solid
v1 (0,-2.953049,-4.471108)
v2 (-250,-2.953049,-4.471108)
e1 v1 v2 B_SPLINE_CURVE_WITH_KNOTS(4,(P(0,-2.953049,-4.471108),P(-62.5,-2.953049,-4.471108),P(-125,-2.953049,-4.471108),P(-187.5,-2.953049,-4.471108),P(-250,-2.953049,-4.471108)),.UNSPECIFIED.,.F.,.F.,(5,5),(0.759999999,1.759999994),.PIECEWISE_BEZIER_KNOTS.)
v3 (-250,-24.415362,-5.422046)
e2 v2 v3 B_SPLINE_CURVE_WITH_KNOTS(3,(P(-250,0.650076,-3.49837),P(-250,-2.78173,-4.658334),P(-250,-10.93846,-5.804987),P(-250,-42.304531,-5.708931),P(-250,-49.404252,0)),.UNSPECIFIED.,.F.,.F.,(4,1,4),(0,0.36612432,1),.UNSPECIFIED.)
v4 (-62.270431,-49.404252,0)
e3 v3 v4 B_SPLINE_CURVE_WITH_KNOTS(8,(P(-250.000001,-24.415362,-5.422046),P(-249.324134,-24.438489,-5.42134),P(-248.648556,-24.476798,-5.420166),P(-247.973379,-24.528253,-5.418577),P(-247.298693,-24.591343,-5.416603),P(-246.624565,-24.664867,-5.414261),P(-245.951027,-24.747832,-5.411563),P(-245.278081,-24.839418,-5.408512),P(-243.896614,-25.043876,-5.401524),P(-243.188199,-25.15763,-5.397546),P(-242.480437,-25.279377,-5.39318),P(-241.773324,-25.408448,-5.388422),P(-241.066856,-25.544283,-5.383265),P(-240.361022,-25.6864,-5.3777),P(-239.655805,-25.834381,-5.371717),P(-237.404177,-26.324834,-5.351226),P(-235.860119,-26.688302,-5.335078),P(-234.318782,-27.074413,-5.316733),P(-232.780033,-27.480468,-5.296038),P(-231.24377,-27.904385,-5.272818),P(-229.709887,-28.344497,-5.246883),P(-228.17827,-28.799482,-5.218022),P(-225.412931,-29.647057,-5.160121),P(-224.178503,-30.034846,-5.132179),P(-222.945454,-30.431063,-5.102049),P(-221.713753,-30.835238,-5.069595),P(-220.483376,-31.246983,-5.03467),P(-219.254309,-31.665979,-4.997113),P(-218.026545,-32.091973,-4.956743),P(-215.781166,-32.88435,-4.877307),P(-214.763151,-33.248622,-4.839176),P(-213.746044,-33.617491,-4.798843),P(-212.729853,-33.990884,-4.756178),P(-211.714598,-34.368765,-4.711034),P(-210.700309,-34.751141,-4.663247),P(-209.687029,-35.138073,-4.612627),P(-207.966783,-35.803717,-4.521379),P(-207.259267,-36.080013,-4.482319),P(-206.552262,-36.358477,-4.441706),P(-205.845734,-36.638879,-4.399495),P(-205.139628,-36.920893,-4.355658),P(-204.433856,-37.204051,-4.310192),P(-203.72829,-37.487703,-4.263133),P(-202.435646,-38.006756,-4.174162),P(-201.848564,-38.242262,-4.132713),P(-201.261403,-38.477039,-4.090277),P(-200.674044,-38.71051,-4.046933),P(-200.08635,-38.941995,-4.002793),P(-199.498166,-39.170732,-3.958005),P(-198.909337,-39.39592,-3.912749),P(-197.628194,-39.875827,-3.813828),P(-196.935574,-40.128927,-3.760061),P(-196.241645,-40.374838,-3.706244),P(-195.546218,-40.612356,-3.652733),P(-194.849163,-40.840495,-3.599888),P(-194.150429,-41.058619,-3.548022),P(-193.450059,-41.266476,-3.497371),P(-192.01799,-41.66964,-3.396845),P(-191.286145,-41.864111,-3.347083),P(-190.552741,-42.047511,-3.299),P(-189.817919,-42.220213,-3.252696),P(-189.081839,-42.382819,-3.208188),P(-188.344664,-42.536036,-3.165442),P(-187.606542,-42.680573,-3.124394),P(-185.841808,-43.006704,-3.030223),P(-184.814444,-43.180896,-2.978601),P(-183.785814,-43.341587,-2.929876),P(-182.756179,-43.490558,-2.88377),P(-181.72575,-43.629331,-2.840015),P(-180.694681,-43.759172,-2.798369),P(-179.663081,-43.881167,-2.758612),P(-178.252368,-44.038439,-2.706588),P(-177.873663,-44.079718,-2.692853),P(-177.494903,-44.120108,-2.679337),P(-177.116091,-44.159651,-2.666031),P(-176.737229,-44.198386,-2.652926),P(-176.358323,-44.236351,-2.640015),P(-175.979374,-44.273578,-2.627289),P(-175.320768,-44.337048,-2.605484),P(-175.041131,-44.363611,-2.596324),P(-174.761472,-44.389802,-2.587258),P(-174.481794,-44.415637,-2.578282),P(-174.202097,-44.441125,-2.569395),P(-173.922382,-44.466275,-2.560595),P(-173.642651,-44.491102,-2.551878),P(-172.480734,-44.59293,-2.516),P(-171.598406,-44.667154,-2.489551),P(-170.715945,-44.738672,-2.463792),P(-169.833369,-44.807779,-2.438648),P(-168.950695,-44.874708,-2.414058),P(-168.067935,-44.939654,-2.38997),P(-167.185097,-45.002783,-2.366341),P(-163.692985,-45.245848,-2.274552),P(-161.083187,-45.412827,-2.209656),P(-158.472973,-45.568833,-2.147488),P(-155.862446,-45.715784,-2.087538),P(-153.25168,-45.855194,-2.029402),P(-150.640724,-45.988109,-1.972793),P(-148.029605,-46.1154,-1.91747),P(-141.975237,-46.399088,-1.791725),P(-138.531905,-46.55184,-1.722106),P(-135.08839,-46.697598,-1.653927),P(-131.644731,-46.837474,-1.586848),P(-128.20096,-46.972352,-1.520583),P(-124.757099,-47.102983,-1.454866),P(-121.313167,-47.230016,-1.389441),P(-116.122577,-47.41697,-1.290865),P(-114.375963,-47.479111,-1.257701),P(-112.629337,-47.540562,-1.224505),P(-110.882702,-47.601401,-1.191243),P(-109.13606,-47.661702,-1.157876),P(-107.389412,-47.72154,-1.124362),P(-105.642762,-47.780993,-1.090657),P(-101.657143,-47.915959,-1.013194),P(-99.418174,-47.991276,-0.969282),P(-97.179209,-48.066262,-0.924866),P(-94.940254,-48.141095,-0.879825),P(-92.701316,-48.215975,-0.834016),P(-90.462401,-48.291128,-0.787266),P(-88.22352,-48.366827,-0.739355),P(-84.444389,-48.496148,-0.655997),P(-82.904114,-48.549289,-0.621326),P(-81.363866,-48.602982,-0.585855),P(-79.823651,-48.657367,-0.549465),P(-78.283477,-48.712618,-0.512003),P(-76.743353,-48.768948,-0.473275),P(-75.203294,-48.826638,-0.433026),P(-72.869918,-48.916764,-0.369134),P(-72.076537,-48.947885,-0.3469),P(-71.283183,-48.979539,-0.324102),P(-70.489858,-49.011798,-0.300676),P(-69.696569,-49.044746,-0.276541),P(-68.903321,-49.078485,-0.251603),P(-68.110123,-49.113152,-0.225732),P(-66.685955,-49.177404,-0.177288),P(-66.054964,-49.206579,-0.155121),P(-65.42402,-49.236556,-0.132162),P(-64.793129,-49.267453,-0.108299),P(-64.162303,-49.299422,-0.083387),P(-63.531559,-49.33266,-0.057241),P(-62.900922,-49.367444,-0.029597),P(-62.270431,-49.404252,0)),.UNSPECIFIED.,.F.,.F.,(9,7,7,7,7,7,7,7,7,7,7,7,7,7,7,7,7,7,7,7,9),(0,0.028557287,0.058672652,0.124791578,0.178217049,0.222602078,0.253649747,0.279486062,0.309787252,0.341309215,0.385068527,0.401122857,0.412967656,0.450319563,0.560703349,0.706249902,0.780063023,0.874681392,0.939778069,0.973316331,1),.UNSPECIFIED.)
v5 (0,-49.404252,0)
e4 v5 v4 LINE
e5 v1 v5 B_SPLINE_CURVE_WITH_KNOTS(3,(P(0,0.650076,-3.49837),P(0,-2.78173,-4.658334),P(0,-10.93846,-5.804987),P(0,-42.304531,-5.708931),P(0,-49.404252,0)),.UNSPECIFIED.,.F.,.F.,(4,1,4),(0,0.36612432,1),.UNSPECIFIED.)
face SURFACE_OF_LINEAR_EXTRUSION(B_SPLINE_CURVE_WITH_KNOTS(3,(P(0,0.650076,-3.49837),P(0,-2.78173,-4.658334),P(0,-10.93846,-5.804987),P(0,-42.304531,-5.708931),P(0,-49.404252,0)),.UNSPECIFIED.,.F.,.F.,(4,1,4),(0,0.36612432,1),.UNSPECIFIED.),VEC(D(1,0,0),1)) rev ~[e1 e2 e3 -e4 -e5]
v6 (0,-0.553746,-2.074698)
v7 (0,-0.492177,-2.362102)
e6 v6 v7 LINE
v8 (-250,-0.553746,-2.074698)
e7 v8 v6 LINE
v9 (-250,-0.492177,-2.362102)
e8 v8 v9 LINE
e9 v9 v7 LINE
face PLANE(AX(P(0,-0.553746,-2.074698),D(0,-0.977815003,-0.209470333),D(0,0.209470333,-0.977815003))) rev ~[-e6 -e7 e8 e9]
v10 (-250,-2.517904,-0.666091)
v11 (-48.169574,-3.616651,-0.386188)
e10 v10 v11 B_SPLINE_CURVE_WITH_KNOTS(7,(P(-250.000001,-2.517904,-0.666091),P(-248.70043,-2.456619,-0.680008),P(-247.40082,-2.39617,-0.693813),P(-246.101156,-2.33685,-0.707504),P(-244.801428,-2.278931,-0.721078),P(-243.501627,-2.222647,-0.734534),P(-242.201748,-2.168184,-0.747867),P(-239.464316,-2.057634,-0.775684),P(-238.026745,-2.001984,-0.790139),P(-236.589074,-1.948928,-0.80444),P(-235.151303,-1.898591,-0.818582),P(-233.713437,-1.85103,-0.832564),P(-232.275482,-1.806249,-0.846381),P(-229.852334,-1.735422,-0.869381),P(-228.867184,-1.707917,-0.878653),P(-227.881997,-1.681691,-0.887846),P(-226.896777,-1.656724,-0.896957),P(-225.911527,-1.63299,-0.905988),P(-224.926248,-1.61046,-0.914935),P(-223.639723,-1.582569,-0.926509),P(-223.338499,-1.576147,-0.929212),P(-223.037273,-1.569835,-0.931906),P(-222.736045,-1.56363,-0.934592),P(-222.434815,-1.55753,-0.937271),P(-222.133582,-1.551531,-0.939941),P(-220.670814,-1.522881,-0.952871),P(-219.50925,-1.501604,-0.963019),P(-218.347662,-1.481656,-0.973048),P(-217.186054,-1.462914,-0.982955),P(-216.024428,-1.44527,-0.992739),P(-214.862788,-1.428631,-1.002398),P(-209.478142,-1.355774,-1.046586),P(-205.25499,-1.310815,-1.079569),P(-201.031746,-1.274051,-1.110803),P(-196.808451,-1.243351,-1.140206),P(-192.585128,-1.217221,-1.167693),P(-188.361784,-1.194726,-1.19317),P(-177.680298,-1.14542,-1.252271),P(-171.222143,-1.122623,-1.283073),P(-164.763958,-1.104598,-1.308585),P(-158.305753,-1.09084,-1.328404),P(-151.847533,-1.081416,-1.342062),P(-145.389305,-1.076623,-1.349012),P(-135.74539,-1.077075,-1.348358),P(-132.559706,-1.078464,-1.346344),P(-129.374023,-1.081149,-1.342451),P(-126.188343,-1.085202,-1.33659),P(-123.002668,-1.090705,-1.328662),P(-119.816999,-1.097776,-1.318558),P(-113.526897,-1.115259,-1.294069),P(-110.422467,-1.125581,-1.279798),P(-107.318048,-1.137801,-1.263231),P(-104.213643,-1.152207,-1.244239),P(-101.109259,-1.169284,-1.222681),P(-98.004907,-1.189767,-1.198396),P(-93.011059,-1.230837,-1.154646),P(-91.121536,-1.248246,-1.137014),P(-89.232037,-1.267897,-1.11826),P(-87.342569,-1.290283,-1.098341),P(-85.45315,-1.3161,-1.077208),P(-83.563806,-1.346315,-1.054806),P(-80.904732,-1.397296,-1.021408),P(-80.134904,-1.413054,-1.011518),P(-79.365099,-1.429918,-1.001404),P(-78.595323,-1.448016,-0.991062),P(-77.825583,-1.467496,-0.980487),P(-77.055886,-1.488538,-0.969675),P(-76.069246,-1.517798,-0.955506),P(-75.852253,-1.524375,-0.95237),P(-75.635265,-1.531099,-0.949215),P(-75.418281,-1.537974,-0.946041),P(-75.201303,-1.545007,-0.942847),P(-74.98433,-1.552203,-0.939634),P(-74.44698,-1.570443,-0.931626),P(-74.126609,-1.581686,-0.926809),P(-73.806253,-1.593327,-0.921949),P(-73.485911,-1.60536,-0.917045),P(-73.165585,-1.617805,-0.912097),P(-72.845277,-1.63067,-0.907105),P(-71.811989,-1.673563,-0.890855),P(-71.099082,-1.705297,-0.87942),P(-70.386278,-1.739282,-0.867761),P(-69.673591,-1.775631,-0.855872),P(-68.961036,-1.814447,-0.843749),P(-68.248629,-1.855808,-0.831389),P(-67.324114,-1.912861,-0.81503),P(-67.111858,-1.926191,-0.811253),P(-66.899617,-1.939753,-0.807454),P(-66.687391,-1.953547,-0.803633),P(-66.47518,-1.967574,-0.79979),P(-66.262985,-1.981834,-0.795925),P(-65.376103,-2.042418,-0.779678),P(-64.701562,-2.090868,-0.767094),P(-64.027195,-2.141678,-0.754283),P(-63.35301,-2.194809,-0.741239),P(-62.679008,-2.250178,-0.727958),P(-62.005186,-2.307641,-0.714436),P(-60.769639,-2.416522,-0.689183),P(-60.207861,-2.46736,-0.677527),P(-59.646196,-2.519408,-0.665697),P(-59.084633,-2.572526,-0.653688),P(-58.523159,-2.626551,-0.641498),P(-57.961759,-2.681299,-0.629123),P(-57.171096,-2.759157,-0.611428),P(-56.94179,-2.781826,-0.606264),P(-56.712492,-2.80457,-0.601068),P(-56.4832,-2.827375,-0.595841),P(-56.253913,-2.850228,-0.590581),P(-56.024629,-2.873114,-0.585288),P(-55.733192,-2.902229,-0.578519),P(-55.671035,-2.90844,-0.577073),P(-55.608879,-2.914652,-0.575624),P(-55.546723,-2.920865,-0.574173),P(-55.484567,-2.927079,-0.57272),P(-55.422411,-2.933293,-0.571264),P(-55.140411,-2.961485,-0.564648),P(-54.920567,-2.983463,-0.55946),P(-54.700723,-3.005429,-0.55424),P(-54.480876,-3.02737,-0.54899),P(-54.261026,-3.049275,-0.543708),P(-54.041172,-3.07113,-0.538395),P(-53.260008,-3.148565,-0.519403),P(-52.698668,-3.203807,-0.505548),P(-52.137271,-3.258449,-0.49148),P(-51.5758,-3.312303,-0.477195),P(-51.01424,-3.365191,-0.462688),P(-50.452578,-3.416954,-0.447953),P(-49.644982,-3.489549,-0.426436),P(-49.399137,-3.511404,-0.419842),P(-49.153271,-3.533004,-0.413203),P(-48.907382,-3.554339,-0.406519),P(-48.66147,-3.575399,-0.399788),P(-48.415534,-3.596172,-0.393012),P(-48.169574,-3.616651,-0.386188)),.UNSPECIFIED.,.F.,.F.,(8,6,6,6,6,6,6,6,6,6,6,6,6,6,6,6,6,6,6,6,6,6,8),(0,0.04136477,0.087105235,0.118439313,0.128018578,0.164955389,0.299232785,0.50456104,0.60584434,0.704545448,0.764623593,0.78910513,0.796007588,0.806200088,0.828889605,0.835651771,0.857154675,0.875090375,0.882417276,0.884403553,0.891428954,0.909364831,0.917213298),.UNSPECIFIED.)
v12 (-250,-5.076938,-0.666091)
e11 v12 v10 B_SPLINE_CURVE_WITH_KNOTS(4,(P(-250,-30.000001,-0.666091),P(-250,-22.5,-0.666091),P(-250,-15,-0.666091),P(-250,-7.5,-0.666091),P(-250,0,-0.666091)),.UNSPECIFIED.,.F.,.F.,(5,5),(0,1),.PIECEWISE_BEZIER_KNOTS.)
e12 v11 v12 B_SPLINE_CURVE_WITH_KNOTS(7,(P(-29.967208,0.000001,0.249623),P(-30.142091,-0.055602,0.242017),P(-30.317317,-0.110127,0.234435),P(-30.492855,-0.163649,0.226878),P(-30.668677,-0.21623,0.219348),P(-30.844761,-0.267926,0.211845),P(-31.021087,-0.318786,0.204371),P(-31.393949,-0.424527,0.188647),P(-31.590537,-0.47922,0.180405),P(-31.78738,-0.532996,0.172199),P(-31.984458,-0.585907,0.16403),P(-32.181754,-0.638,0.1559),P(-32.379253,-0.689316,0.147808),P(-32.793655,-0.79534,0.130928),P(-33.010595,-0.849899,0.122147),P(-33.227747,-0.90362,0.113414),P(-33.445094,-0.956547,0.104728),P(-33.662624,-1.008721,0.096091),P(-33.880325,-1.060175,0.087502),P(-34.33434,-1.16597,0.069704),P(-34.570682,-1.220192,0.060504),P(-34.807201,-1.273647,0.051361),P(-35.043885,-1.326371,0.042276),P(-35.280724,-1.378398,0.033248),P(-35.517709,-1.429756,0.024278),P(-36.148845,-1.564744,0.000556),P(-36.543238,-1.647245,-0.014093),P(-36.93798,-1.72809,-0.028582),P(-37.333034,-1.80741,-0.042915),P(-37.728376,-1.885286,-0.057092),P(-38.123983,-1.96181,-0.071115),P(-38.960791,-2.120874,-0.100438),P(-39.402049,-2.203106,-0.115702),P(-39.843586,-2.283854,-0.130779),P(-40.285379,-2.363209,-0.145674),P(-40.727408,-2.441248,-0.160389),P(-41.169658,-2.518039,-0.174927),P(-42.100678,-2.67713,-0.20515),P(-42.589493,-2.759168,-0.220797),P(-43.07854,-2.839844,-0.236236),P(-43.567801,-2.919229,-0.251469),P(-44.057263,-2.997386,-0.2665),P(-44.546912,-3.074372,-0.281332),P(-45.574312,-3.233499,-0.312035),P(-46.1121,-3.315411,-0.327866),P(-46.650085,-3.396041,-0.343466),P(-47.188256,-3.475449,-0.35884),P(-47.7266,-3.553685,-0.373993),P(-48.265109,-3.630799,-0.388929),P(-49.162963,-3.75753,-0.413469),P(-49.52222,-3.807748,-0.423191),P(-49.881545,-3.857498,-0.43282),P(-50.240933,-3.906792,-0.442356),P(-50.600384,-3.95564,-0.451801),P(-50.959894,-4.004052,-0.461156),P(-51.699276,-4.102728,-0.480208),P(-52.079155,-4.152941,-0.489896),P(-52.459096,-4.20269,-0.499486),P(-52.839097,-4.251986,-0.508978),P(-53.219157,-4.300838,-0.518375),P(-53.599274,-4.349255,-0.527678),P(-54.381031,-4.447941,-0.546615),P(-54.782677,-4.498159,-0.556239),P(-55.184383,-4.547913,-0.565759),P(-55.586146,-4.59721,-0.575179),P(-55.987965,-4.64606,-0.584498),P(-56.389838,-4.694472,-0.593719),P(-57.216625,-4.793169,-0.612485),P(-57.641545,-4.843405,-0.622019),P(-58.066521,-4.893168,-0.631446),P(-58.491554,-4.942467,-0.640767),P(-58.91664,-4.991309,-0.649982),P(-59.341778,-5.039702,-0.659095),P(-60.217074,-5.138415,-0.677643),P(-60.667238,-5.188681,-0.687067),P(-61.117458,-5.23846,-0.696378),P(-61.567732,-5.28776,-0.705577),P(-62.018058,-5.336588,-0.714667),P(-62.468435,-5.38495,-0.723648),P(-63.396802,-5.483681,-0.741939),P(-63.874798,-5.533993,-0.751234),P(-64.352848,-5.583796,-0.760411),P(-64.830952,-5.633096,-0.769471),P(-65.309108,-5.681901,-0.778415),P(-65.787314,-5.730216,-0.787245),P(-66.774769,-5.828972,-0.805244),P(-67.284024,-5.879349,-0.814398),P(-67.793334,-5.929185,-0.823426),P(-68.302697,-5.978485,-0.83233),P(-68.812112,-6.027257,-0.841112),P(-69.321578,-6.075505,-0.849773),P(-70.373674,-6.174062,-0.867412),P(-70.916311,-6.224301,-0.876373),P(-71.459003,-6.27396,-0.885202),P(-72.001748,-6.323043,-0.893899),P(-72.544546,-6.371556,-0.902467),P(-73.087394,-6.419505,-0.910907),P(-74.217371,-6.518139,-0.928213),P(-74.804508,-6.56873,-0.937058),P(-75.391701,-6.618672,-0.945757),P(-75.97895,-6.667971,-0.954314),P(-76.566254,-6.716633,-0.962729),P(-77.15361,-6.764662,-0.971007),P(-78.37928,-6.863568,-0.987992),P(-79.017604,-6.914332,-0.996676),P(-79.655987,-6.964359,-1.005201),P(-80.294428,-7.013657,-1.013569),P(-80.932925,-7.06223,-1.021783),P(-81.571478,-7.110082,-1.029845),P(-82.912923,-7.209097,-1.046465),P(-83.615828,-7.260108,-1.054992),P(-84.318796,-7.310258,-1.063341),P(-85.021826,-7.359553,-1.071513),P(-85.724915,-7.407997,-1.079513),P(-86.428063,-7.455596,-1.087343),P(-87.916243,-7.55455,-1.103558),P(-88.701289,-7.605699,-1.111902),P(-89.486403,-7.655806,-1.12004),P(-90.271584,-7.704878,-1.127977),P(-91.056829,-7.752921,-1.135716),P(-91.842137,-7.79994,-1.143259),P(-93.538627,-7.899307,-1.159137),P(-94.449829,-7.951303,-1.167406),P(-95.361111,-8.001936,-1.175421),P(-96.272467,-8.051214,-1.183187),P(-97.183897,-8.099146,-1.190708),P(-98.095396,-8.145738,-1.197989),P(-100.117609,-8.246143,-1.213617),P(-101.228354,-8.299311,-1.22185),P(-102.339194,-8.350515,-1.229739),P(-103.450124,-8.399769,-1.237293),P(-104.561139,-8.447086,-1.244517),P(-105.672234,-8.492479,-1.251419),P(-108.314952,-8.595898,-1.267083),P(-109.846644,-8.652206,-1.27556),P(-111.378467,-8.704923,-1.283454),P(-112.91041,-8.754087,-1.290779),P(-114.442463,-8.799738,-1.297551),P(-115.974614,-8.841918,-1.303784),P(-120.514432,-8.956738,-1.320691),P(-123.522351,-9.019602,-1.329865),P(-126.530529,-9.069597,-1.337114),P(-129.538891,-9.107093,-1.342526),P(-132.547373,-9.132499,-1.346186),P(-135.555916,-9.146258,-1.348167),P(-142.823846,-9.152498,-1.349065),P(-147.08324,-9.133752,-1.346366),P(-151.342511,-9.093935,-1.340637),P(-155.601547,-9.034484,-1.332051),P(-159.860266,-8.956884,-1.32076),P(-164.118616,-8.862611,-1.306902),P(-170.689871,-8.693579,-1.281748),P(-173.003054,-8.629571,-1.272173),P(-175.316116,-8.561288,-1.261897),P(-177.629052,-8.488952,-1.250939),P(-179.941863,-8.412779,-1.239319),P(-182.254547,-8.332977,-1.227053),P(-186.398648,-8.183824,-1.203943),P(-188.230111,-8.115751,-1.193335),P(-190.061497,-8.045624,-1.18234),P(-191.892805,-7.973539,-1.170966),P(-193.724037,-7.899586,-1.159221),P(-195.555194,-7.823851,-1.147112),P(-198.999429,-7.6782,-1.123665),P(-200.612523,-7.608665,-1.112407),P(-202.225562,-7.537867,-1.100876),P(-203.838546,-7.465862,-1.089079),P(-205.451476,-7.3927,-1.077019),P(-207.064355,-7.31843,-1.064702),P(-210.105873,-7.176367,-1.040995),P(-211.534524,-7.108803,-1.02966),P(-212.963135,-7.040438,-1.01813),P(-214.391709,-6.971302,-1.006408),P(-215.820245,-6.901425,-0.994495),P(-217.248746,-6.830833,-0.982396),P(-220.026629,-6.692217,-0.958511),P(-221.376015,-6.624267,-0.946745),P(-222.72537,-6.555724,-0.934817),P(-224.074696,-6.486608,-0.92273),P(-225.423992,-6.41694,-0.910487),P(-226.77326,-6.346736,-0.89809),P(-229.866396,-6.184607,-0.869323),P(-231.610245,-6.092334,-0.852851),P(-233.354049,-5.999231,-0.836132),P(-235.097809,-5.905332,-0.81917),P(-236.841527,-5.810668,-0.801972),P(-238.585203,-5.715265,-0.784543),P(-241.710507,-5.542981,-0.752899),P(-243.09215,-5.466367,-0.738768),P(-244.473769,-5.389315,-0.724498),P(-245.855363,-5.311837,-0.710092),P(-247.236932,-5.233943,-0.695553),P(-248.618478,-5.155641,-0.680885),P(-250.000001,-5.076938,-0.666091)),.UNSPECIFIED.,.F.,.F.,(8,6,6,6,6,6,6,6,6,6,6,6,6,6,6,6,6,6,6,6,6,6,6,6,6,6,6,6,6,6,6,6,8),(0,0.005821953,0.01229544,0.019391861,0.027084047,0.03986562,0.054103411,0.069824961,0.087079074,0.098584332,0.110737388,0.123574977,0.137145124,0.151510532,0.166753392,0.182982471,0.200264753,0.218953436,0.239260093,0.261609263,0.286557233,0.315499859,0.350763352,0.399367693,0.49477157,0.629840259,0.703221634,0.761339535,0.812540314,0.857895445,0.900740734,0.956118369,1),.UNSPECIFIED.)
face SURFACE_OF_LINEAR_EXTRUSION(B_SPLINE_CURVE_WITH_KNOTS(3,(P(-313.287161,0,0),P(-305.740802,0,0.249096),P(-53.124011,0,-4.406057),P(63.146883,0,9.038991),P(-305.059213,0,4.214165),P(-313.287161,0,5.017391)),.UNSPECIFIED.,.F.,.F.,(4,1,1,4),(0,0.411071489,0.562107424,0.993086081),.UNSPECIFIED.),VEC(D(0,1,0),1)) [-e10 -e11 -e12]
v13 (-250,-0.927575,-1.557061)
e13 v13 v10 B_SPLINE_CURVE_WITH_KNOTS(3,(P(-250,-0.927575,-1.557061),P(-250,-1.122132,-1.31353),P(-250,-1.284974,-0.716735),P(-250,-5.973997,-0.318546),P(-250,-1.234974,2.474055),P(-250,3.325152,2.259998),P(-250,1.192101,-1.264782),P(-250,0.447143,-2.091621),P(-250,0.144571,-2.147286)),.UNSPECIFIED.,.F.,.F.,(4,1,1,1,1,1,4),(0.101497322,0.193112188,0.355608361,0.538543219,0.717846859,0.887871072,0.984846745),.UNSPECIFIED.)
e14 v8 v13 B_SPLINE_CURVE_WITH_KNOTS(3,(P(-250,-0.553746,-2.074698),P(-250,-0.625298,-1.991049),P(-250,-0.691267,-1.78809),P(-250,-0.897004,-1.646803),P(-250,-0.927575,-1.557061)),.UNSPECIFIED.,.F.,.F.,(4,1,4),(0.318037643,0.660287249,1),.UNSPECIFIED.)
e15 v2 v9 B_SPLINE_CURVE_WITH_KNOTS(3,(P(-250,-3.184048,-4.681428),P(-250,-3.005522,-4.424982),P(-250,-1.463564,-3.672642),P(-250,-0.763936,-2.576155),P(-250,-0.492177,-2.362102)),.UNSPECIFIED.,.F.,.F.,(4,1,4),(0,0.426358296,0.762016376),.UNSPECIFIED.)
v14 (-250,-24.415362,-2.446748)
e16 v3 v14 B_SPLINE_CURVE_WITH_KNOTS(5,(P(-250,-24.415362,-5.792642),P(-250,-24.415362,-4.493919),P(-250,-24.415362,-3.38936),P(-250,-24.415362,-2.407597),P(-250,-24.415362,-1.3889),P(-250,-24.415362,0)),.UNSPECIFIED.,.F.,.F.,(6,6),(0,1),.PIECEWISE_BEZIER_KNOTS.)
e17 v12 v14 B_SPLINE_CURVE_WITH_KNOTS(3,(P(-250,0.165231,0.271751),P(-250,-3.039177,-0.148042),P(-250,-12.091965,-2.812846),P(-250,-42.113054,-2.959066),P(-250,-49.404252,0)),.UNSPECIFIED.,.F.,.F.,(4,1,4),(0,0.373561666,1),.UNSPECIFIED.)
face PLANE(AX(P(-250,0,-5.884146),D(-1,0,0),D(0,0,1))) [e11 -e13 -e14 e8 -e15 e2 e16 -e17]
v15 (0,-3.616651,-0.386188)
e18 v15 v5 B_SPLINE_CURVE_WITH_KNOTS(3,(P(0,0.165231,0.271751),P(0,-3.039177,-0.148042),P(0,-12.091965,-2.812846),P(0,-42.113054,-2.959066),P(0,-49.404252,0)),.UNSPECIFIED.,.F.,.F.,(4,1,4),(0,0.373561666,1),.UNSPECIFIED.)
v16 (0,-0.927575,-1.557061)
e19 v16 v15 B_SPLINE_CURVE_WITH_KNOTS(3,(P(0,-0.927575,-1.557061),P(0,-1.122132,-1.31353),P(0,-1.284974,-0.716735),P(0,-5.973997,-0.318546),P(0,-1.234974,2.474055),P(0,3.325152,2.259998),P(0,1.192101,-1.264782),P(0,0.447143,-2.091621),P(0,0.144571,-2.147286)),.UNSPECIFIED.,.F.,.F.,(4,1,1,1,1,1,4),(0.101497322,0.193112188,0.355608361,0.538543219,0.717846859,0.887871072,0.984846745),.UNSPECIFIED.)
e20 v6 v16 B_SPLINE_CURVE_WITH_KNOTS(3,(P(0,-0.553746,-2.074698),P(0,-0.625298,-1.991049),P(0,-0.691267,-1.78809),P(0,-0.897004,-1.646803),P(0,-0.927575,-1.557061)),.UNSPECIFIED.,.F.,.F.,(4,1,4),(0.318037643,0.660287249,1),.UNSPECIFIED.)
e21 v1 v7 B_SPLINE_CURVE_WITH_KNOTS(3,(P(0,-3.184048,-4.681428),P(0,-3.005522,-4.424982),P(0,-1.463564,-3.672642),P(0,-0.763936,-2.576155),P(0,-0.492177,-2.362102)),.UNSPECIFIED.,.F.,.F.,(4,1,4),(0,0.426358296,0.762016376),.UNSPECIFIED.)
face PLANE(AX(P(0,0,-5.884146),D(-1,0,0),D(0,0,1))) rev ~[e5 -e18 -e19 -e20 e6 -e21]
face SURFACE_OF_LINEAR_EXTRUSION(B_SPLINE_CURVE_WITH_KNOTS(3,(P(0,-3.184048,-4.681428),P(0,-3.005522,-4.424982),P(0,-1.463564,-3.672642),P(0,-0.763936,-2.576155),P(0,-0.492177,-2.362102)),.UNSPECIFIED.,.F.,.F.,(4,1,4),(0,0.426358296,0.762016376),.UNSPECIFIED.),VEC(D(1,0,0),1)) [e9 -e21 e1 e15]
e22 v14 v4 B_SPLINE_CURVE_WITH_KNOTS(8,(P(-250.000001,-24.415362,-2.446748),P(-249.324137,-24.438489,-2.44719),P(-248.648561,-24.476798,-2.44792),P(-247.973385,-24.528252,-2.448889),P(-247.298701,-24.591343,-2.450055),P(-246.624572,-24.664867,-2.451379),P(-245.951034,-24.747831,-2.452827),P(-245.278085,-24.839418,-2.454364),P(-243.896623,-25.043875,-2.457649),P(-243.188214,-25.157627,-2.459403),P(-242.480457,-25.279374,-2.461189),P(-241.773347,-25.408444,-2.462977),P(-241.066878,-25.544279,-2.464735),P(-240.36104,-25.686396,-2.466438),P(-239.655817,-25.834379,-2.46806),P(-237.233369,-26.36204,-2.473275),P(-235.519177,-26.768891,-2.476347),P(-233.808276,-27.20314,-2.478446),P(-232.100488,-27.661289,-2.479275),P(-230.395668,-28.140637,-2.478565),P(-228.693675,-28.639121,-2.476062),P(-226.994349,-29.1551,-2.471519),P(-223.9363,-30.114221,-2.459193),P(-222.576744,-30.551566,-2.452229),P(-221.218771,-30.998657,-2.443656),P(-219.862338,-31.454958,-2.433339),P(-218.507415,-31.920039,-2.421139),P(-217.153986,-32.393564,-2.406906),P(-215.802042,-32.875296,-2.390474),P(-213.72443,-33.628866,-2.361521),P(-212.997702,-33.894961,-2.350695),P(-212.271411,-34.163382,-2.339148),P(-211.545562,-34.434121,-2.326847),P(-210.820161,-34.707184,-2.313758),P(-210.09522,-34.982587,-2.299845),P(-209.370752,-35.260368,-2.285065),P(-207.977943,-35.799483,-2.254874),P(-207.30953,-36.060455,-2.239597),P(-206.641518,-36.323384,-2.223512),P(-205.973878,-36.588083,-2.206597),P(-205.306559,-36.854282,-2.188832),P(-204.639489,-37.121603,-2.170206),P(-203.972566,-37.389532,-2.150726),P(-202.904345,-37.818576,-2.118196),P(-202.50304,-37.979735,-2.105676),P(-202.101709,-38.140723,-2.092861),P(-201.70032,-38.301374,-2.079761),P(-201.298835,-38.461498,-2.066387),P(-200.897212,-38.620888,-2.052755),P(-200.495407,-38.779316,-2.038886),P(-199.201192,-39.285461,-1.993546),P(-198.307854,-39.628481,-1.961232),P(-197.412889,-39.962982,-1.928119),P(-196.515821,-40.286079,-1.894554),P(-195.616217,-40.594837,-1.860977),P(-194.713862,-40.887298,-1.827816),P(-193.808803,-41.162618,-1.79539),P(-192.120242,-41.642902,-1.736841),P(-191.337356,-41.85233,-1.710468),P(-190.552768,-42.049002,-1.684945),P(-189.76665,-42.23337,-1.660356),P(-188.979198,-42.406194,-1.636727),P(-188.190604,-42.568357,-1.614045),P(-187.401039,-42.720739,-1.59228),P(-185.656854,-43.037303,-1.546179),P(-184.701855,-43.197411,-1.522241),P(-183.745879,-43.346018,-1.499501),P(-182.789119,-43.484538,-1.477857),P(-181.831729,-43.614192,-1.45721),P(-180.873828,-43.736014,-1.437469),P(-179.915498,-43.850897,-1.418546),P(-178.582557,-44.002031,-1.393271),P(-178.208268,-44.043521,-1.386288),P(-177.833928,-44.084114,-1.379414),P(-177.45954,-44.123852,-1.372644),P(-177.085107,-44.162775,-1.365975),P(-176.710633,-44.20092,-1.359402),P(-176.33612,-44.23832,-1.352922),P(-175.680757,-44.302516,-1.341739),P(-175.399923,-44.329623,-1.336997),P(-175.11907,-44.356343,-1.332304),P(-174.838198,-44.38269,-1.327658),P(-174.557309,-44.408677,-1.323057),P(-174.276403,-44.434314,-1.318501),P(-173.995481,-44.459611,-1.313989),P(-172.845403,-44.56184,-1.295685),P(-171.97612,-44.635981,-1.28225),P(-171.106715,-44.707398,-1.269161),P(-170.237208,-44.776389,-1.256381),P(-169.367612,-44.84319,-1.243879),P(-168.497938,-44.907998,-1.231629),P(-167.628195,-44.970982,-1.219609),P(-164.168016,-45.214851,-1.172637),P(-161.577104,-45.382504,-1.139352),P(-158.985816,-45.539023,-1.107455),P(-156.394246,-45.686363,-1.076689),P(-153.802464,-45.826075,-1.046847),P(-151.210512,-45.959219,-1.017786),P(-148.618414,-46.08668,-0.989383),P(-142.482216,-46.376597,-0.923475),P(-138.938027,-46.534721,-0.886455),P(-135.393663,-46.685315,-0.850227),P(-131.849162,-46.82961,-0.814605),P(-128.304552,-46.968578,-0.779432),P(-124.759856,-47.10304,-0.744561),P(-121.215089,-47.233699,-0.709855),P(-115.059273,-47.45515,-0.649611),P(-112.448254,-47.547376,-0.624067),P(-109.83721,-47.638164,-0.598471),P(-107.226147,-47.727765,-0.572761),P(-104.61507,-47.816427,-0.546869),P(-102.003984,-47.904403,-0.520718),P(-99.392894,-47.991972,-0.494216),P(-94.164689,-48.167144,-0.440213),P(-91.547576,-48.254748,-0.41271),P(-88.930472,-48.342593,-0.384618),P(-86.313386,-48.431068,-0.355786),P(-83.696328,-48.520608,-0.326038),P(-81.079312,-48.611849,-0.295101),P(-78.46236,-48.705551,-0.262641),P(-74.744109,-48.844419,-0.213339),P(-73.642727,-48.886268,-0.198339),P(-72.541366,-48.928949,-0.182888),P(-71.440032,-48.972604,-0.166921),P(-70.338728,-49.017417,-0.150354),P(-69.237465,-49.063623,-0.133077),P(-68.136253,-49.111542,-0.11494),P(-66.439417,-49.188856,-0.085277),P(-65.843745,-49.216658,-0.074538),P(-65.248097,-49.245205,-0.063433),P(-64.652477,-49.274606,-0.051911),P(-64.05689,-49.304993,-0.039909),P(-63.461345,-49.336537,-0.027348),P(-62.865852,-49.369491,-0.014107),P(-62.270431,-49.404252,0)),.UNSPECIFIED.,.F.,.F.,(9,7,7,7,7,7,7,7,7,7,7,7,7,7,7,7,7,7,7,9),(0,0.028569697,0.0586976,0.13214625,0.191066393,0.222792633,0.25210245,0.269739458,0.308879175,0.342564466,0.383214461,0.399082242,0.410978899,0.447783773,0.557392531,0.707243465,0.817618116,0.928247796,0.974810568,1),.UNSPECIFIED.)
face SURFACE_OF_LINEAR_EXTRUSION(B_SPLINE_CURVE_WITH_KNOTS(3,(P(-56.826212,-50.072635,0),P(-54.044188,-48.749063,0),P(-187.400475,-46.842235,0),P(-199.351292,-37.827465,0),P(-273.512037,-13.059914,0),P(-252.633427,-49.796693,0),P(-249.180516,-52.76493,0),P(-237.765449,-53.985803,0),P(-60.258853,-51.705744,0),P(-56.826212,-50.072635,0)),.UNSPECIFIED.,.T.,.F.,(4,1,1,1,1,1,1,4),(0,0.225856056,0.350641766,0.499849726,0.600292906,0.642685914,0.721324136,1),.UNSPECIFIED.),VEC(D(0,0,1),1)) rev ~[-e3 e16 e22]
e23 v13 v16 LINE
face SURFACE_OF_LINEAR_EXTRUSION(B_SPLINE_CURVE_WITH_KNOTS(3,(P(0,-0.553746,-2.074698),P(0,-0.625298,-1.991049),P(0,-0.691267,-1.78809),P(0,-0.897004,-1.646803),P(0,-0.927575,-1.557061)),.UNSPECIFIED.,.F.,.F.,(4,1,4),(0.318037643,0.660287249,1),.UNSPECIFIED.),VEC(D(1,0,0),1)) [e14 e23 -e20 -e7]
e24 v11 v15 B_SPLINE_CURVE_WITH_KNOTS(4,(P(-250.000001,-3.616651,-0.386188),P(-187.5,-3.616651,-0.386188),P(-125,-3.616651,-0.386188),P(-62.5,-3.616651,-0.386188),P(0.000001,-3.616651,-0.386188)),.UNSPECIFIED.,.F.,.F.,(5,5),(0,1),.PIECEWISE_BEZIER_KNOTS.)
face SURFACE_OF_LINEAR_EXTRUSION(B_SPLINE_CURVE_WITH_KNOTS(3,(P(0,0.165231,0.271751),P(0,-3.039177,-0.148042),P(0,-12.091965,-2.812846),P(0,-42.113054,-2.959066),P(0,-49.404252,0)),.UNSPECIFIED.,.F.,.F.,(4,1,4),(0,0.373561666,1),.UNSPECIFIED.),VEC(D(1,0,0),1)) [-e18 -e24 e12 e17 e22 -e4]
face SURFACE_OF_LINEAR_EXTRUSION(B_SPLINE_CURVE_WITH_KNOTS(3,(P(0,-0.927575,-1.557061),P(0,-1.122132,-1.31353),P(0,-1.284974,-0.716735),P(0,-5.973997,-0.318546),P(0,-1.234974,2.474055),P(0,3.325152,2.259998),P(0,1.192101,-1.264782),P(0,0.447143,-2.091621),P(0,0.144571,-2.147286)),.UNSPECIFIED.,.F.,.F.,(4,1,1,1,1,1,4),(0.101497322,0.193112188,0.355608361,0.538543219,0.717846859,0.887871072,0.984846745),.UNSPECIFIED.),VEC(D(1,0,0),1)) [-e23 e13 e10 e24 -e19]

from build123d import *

# Parameters (mm, degrees)
F0_W      = 250
F0_H      = 10
F1_DEPTH  = 50
F3_DEPTH  = 30
F5_DEPTH  = 250
F7_DEPTH  = 250
F8_DEPTH  = 60
F10_DEPTH = 25
F11_DEPTH = 60


with BuildPart() as f1:
    # F0 (on Front) → F1 (new body)
    with BuildSketch(Plane.XZ):
        with Locations((-125, -0.8841458522)):
            Rectangle(F0_W, F0_H)
    extrude(amount=F1_DEPTH)

    # F2 (on Front) → F3 (cut)
    with BuildSketch(Plane.XZ):
        with BuildLine():
            Line((-313.2871612906, 5.0173905069), (-313.2871612906, 0))
            add(Edge.make_bspline(
                [(-313.2871612906, 0), (-305.7408024233, 0.2490956721), (-53.1240111215, -4.4060569761), (63.1468826879, 9.0389913046), (-305.0592132912, 4.2141648523), (-313.2871612906, 5.0173905069)],
                knots=[0, 0, 0, 0, 0.4110714895, 0.5621074239, 0.9930860809, 0.9930860809, 0.9930860809, 0.9930860809], degree=3))
        make_face()
        with BuildLine():
            add(Edge.make_bspline(
                [(-313.2871612906, 5.0173905069), (-313.4191570769, 5.0302761501), (-313.4831006394, 5.044287986), (-313.4769124275, 5.0594728428)],
                knots=[0.9930860809, 0.9930860809, 0.9930860809, 0.9930860809, 1, 1, 1, 1], degree=3))
            Line((-313.2871612906, 5.0173905069), (-313.2871612906, 8.698137477))
            Line((-313.2871612906, 8.698137477), (-313.4769124275, 5.0594728428))
        make_face()
    extrude(amount=F3_DEPTH, mode=Mode.SUBTRACT)

    # F4 (on Right) → F5 (intersect)
    with BuildSketch(Plane.YZ):
        with BuildLine():
            Line((0.5672006129, -1.3385175809), (0.1652306632, 0.2717507569))
            add(Edge.make_bspline(
                [(0.1652306632, 0.2717507569), (-3.0391772862, -0.1480424546), (-12.0919650314, -2.8128463431), (-42.1130539169, -2.9590662558), (-49.4042519617, 0)],
                knots=[0, 0, 0, 0, 0.3735616657, 1, 1, 1, 1], degree=3))
            add(Edge.make_bspline(
                [(0.6500760171, -3.4983696098), (-2.7817302159, -4.6583340632), (-10.9384602329, -5.8049870315), (-42.3045310889, -5.708930743), (-49.4042519617, 0)],
                knots=[0, 0, 0, 0, 0.3661243195, 1, 1, 1, 1], degree=3))
            Line((0.6500760171, -3.4983696098), (0.5672006129, -1.3385175809))
        make_face()
    extrude(amount=-F5_DEPTH, mode=Mode.INTERSECT)

    # F6 (on Right) → F7 (cut)
    with BuildSketch(Plane.YZ):
        with BuildLine():
            add(Edge.make_bspline(
                [(-0.3713592388, -2.284798827), (-0.2241532093, -2.2148044468), (-0.0823320886, -2.24440747), (0, -2.1551709748)],
                knots=[0.8126011445, 0.8126011445, 0.8126011445, 0.8126011445, 1, 1, 1, 1], degree=3))
            add(Edge.make_bspline(
                [(0, -2.1551709748), (-0.329754515, -2.1314787293), (-0.7120324277, -1.8268609189), (-0.9275754571, -1.5570607049)],
                knots=[0, 0, 0, 0, 0.1014973216, 0.1014973216, 0.1014973216, 0.1014973216], degree=3))
            add(Edge.make_bspline(
                [(-0.5537458841, -2.0746981376), (-0.6252984398, -1.9910490784), (-0.6912669675, -1.7880899452), (-0.8970043195, -1.6468032305), (-0.9275754571, -1.5570607049)],
                knots=[0.3180376428, 0.3180376428, 0.3180376428, 0.3180376428, 0.6602872495, 1, 1, 1, 1], degree=3))
            add(Edge.make_bspline(
                [(-0.3713592388, -2.284798827), (-0.3875660997, -2.2144380571), (-0.4872552126, -2.1524295626), (-0.5537458841, -2.0746981376)],
                knots=[0, 0, 0, 0, 0.3180376428, 0.3180376428, 0.3180376428, 0.3180376428], degree=3))
        make_face()
        with BuildLine():
            add(Edge.make_bspline(
                [(0, -2.1551709748), (0.0470843515, -2.1525380743), (0.0954787204, -2.1497884688), (0.1445713973, -2.1472855941)],
                knots=[0, 0, 0, 0, 0.0270402164, 0.0270402164, 0.0270402164, 0.0270402164], degree=3))
            add(Edge.make_bspline(
                [(0.1445713973, -2.1472855941), (0.0972920511, -2.1559836171), (0.0492313889, -2.1587081581), (0, -2.1551709748)],
                knots=[0.9848467454, 0.9848467454, 0.9848467454, 0.9848467454, 1, 1, 1, 1], degree=3))
        make_face()
        with BuildLine():
            add(Edge.make_bspline(
                [(0.1445713973, -2.1472855941), (0.0972920511, -2.1559836171), (0.0492313889, -2.1587081581), (0, -2.1551709748)],
                knots=[0.9848467454, 0.9848467454, 0.9848467454, 0.9848467454, 1, 1, 1, 1], degree=3))
            add(Edge.make_bspline(
                [(-0.3713592388, -2.284798827), (-0.2241532093, -2.2148044468), (-0.0823320886, -2.24440747), (0, -2.1551709748)],
                knots=[0.8126011445, 0.8126011445, 0.8126011445, 0.8126011445, 1, 1, 1, 1], degree=3))
            add(Edge.make_bspline(
                [(-0.4921774922, -2.3621015913), (-0.4512225519, -2.3298430813), (-0.4110947157, -2.3036924829), (-0.3713592388, -2.284798827)],
                knots=[0.7620163762, 0.7620163762, 0.7620163762, 0.7620163762, 0.8126011445, 0.8126011445, 0.8126011445, 0.8126011445], degree=3))
            add(Edge.make_bspline(
                [(-3.1840484364, -4.6814284005), (-3.0055224359, -4.4249821283), (-1.4635640249, -3.672642383), (-0.7639363061, -2.5761547519), (-0.4921774922, -2.3621015913)],
                knots=[0, 0, 0, 0, 0.4263582957, 0.7620163762, 0.7620163762, 0.7620163762, 0.7620163762], degree=3))
            add(Edge.make_bspline(
                [(0.1445713973, -2.1472855941), (0.4781031282, -2.1302812627), (1.1300747826, -2.1202709661), (1.4167482192, -2.8884793386), (-0.5860592872, -4.3606955567), (-2.8324278052, -4.9287898784), (-3.1840484364, -4.6814284005)],
                knots=[0.0270402164, 0.0270402164, 0.0270402164, 0.0270402164, 0.2107492894, 0.3545004907, 0.6749045556, 1, 1, 1, 1], degree=3))
        make_face()
        with BuildLine():
            add(Edge.make_bspline(
                [(0, -2.1551709748), (-0.329754515, -2.1314787293), (-0.7120324277, -1.8268609189), (-0.9275754571, -1.5570607049)],
                knots=[0, 0, 0, 0, 0.1014973216, 0.1014973216, 0.1014973216, 0.1014973216], degree=3))
            add(Edge.make_bspline(
                [(0, -2.1551709748), (0.0470843515, -2.1525380743), (0.0954787204, -2.1497884688), (0.1445713973, -2.1472855941)],
                knots=[0, 0, 0, 0, 0.0270402164, 0.0270402164, 0.0270402164, 0.0270402164], degree=3))
            add(Edge.make_bspline(
                [(-0.9275754571, -1.5570607049), (-1.122131781, -1.3135300375), (-1.2849738501, -0.7167346625), (-5.9739971148, -0.3185463772), (-1.2349744114, 2.4740546969), (3.3251523519, 2.2599980845), (1.1921011598, -1.2647816461), (0.4471431263, -2.091621206), (0.1445713973, -2.1472855941)],
                knots=[0.1014973216, 0.1014973216, 0.1014973216, 0.1014973216, 0.1931121877, 0.3556083607, 0.5385432189, 0.7178468592, 0.8878710721, 0.9848467454, 0.9848467454, 0.9848467454, 0.9848467454], degree=3))
        make_face()
        with BuildLine():
            add(Edge.make_bspline(
                [(-0.4921774922, -2.3621015913), (-0.4512225519, -2.3298430813), (-0.4110947157, -2.3036924829), (-0.3713592388, -2.284798827)],
                knots=[0.7620163762, 0.7620163762, 0.7620163762, 0.7620163762, 0.8126011445, 0.8126011445, 0.8126011445, 0.8126011445], degree=3))
            add(Edge.make_bspline(
                [(-0.3713592388, -2.284798827), (-0.3875660997, -2.2144380571), (-0.4872552126, -2.1524295626), (-0.5537458841, -2.0746981376)],
                knots=[0, 0, 0, 0, 0.3180376428, 0.3180376428, 0.3180376428, 0.3180376428], degree=3))
            Line((-0.5537458841, -2.0746981376), (-0.4921774922, -2.3621015913))
        make_face()
    extrude(amount=-F7_DEPTH, mode=Mode.SUBTRACT)

    # F6 (on Right) → F8 (cut)
    with BuildSketch(Plane.YZ):
        with BuildLine():
            add(Edge.make_bspline(
                [(-0.3713592388, -2.284798827), (-0.2241532093, -2.2148044468), (-0.0823320886, -2.24440747), (0, -2.1551709748)],
                knots=[0.8126011445, 0.8126011445, 0.8126011445, 0.8126011445, 1, 1, 1, 1], degree=3))
            add(Edge.make_bspline(
                [(0, -2.1551709748), (-0.329754515, -2.1314787293), (-0.7120324277, -1.8268609189), (-0.9275754571, -1.5570607049)],
                knots=[0, 0, 0, 0, 0.1014973216, 0.1014973216, 0.1014973216, 0.1014973216], degree=3))
            add(Edge.make_bspline(
                [(-0.5537458841, -2.0746981376), (-0.6252984398, -1.9910490784), (-0.6912669675, -1.7880899452), (-0.8970043195, -1.6468032305), (-0.9275754571, -1.5570607049)],
                knots=[0.3180376428, 0.3180376428, 0.3180376428, 0.3180376428, 0.6602872495, 1, 1, 1, 1], degree=3))
            add(Edge.make_bspline(
                [(-0.3713592388, -2.284798827), (-0.3875660997, -2.2144380571), (-0.4872552126, -2.1524295626), (-0.5537458841, -2.0746981376)],
                knots=[0, 0, 0, 0, 0.3180376428, 0.3180376428, 0.3180376428, 0.3180376428], degree=3))
        make_face()
        with BuildLine():
            add(Edge.make_bspline(
                [(0, -2.1551709748), (0.0470843515, -2.1525380743), (0.0954787204, -2.1497884688), (0.1445713973, -2.1472855941)],
                knots=[0, 0, 0, 0, 0.0270402164, 0.0270402164, 0.0270402164, 0.0270402164], degree=3))
            add(Edge.make_bspline(
                [(0.1445713973, -2.1472855941), (0.0972920511, -2.1559836171), (0.0492313889, -2.1587081581), (0, -2.1551709748)],
                knots=[0.9848467454, 0.9848467454, 0.9848467454, 0.9848467454, 1, 1, 1, 1], degree=3))
        make_face()
        with BuildLine():
            add(Edge.make_bspline(
                [(0.1445713973, -2.1472855941), (0.0972920511, -2.1559836171), (0.0492313889, -2.1587081581), (0, -2.1551709748)],
                knots=[0.9848467454, 0.9848467454, 0.9848467454, 0.9848467454, 1, 1, 1, 1], degree=3))
            add(Edge.make_bspline(
                [(-0.3713592388, -2.284798827), (-0.2241532093, -2.2148044468), (-0.0823320886, -2.24440747), (0, -2.1551709748)],
                knots=[0.8126011445, 0.8126011445, 0.8126011445, 0.8126011445, 1, 1, 1, 1], degree=3))
            add(Edge.make_bspline(
                [(-0.4921774922, -2.3621015913), (-0.4512225519, -2.3298430813), (-0.4110947157, -2.3036924829), (-0.3713592388, -2.284798827)],
                knots=[0.7620163762, 0.7620163762, 0.7620163762, 0.7620163762, 0.8126011445, 0.8126011445, 0.8126011445, 0.8126011445], degree=3))
            add(Edge.make_bspline(
                [(-3.1840484364, -4.6814284005), (-3.0055224359, -4.4249821283), (-1.4635640249, -3.672642383), (-0.7639363061, -2.5761547519), (-0.4921774922, -2.3621015913)],
                knots=[0, 0, 0, 0, 0.4263582957, 0.7620163762, 0.7620163762, 0.7620163762, 0.7620163762], degree=3))
            add(Edge.make_bspline(
                [(0.1445713973, -2.1472855941), (0.4781031282, -2.1302812627), (1.1300747826, -2.1202709661), (1.4167482192, -2.8884793386), (-0.5860592872, -4.3606955567), (-2.8324278052, -4.9287898784), (-3.1840484364, -4.6814284005)],
                knots=[0.0270402164, 0.0270402164, 0.0270402164, 0.0270402164, 0.2107492894, 0.3545004907, 0.6749045556, 1, 1, 1, 1], degree=3))
        make_face()
        with BuildLine():
            add(Edge.make_bspline(
                [(0, -2.1551709748), (-0.329754515, -2.1314787293), (-0.7120324277, -1.8268609189), (-0.9275754571, -1.5570607049)],
                knots=[0, 0, 0, 0, 0.1014973216, 0.1014973216, 0.1014973216, 0.1014973216], degree=3))
            add(Edge.make_bspline(
                [(0, -2.1551709748), (0.0470843515, -2.1525380743), (0.0954787204, -2.1497884688), (0.1445713973, -2.1472855941)],
                knots=[0, 0, 0, 0, 0.0270402164, 0.0270402164, 0.0270402164, 0.0270402164], degree=3))
            add(Edge.make_bspline(
                [(-0.9275754571, -1.5570607049), (-1.122131781, -1.3135300375), (-1.2849738501, -0.7167346625), (-5.9739971148, -0.3185463772), (-1.2349744114, 2.4740546969), (3.3251523519, 2.2599980845), (1.1921011598, -1.2647816461), (0.4471431263, -2.091621206), (0.1445713973, -2.1472855941)],
                knots=[0.1014973216, 0.1014973216, 0.1014973216, 0.1014973216, 0.1931121877, 0.3556083607, 0.5385432189, 0.7178468592, 0.8878710721, 0.9848467454, 0.9848467454, 0.9848467454, 0.9848467454], degree=3))
        make_face()
        with BuildLine():
            add(Edge.make_bspline(
                [(-0.4921774922, -2.3621015913), (-0.4512225519, -2.3298430813), (-0.4110947157, -2.3036924829), (-0.3713592388, -2.284798827)],
                knots=[0.7620163762, 0.7620163762, 0.7620163762, 0.7620163762, 0.8126011445, 0.8126011445, 0.8126011445, 0.8126011445], degree=3))
            add(Edge.make_bspline(
                [(-0.3713592388, -2.284798827), (-0.3875660997, -2.2144380571), (-0.4872552126, -2.1524295626), (-0.5537458841, -2.0746981376)],
                knots=[0, 0, 0, 0, 0.3180376428, 0.3180376428, 0.3180376428, 0.3180376428], degree=3))
            Line((-0.5537458841, -2.0746981376), (-0.4921774922, -2.3621015913))
        make_face()
    extrude(amount=-F8_DEPTH, mode=Mode.SUBTRACT)

    # F9 (on Top) → F10 (cut)
    with BuildSketch(Plane.XY):
        with BuildLine():
            add(Edge.make_bspline(
                [(-56.8262115121, -50.0726350397), (-54.0441875705, -48.7490632239), (-187.4004746082, -46.842235401), (-199.3512918879, -37.8274652783), (-273.5120374225, -13.0599144802), (-252.6334265377, -49.7966928991), (-249.180515691, -52.7649299347), (-237.7654494775, -53.9858025132), (-60.2588532543, -51.7057438695), (-56.8262115121, -50.0726350397)],
                knots=[0, 0, 0, 0, 0.2258560561, 0.3506417657, 0.4998497255, 0.6002929057, 0.6426859144, 0.7213241359, 1, 1, 1, 1], degree=3))
        make_face()
    extrude(amount=-F10_DEPTH, mode=Mode.SUBTRACT)

    # F6 (on Right) → F11 (cut)
    with BuildSketch(Plane.YZ):
        with BuildLine():
            add(Edge.make_bspline(
                [(-0.3713592388, -2.284798827), (-0.2241532093, -2.2148044468), (-0.0823320886, -2.24440747), (0, -2.1551709748)],
                knots=[0.8126011445, 0.8126011445, 0.8126011445, 0.8126011445, 1, 1, 1, 1], degree=3))
            add(Edge.make_bspline(
                [(0, -2.1551709748), (-0.329754515, -2.1314787293), (-0.7120324277, -1.8268609189), (-0.9275754571, -1.5570607049)],
                knots=[0, 0, 0, 0, 0.1014973216, 0.1014973216, 0.1014973216, 0.1014973216], degree=3))
            add(Edge.make_bspline(
                [(-0.5537458841, -2.0746981376), (-0.6252984398, -1.9910490784), (-0.6912669675, -1.7880899452), (-0.8970043195, -1.6468032305), (-0.9275754571, -1.5570607049)],
                knots=[0.3180376428, 0.3180376428, 0.3180376428, 0.3180376428, 0.6602872495, 1, 1, 1, 1], degree=3))
            add(Edge.make_bspline(
                [(-0.3713592388, -2.284798827), (-0.3875660997, -2.2144380571), (-0.4872552126, -2.1524295626), (-0.5537458841, -2.0746981376)],
                knots=[0, 0, 0, 0, 0.3180376428, 0.3180376428, 0.3180376428, 0.3180376428], degree=3))
        make_face()
        with BuildLine():
            add(Edge.make_bspline(
                [(0, -2.1551709748), (0.0470843515, -2.1525380743), (0.0954787204, -2.1497884688), (0.1445713973, -2.1472855941)],
                knots=[0, 0, 0, 0, 0.0270402164, 0.0270402164, 0.0270402164, 0.0270402164], degree=3))
            add(Edge.make_bspline(
                [(0.1445713973, -2.1472855941), (0.0972920511, -2.1559836171), (0.0492313889, -2.1587081581), (0, -2.1551709748)],
                knots=[0.9848467454, 0.9848467454, 0.9848467454, 0.9848467454, 1, 1, 1, 1], degree=3))
        make_face()
        with BuildLine():
            add(Edge.make_bspline(
                [(0.1445713973, -2.1472855941), (0.0972920511, -2.1559836171), (0.0492313889, -2.1587081581), (0, -2.1551709748)],
                knots=[0.9848467454, 0.9848467454, 0.9848467454, 0.9848467454, 1, 1, 1, 1], degree=3))
            add(Edge.make_bspline(
                [(-0.3713592388, -2.284798827), (-0.2241532093, -2.2148044468), (-0.0823320886, -2.24440747), (0, -2.1551709748)],
                knots=[0.8126011445, 0.8126011445, 0.8126011445, 0.8126011445, 1, 1, 1, 1], degree=3))
            add(Edge.make_bspline(
                [(-0.4921774922, -2.3621015913), (-0.4512225519, -2.3298430813), (-0.4110947157, -2.3036924829), (-0.3713592388, -2.284798827)],
                knots=[0.7620163762, 0.7620163762, 0.7620163762, 0.7620163762, 0.8126011445, 0.8126011445, 0.8126011445, 0.8126011445], degree=3))
            add(Edge.make_bspline(
                [(-3.1840484364, -4.6814284005), (-3.0055224359, -4.4249821283), (-1.4635640249, -3.672642383), (-0.7639363061, -2.5761547519), (-0.4921774922, -2.3621015913)],
                knots=[0, 0, 0, 0, 0.4263582957, 0.7620163762, 0.7620163762, 0.7620163762, 0.7620163762], degree=3))
            add(Edge.make_bspline(
                [(0.1445713973, -2.1472855941), (0.4781031282, -2.1302812627), (1.1300747826, -2.1202709661), (1.4167482192, -2.8884793386), (-0.5860592872, -4.3606955567), (-2.8324278052, -4.9287898784), (-3.1840484364, -4.6814284005)],
                knots=[0.0270402164, 0.0270402164, 0.0270402164, 0.0270402164, 0.2107492894, 0.3545004907, 0.6749045556, 1, 1, 1, 1], degree=3))
        make_face()
        with BuildLine():
            add(Edge.make_bspline(
                [(0, -2.1551709748), (-0.329754515, -2.1314787293), (-0.7120324277, -1.8268609189), (-0.9275754571, -1.5570607049)],
                knots=[0, 0, 0, 0, 0.1014973216, 0.1014973216, 0.1014973216, 0.1014973216], degree=3))
            add(Edge.make_bspline(
                [(0, -2.1551709748), (0.0470843515, -2.1525380743), (0.0954787204, -2.1497884688), (0.1445713973, -2.1472855941)],
                knots=[0, 0, 0, 0, 0.0270402164, 0.0270402164, 0.0270402164, 0.0270402164], degree=3))
            add(Edge.make_bspline(
                [(-0.9275754571, -1.5570607049), (-1.122131781, -1.3135300375), (-1.2849738501, -0.7167346625), (-5.9739971148, -0.3185463772), (-1.2349744114, 2.4740546969), (3.3251523519, 2.2599980845), (1.1921011598, -1.2647816461), (0.4471431263, -2.091621206), (0.1445713973, -2.1472855941)],
                knots=[0.1014973216, 0.1014973216, 0.1014973216, 0.1014973216, 0.1931121877, 0.3556083607, 0.5385432189, 0.7178468592, 0.8878710721, 0.9848467454, 0.9848467454, 0.9848467454, 0.9848467454], degree=3))
        make_face()
        with BuildLine():
            add(Edge.make_bspline(
                [(-0.4921774922, -2.3621015913), (-0.4512225519, -2.3298430813), (-0.4110947157, -2.3036924829), (-0.3713592388, -2.284798827)],
                knots=[0.7620163762, 0.7620163762, 0.7620163762, 0.7620163762, 0.8126011445, 0.8126011445, 0.8126011445, 0.8126011445], degree=3))
            add(Edge.make_bspline(
                [(-0.3713592388, -2.284798827), (-0.3875660997, -2.2144380571), (-0.4872552126, -2.1524295626), (-0.5537458841, -2.0746981376)],
                knots=[0, 0, 0, 0, 0.3180376428, 0.3180376428, 0.3180376428, 0.3180376428], degree=3))
            Line((-0.5537458841, -2.0746981376), (-0.4921774922, -2.3621015913))
        make_face()
    extrude(amount=-F11_DEPTH, mode=Mode.SUBTRACT)


solid = f1.part
